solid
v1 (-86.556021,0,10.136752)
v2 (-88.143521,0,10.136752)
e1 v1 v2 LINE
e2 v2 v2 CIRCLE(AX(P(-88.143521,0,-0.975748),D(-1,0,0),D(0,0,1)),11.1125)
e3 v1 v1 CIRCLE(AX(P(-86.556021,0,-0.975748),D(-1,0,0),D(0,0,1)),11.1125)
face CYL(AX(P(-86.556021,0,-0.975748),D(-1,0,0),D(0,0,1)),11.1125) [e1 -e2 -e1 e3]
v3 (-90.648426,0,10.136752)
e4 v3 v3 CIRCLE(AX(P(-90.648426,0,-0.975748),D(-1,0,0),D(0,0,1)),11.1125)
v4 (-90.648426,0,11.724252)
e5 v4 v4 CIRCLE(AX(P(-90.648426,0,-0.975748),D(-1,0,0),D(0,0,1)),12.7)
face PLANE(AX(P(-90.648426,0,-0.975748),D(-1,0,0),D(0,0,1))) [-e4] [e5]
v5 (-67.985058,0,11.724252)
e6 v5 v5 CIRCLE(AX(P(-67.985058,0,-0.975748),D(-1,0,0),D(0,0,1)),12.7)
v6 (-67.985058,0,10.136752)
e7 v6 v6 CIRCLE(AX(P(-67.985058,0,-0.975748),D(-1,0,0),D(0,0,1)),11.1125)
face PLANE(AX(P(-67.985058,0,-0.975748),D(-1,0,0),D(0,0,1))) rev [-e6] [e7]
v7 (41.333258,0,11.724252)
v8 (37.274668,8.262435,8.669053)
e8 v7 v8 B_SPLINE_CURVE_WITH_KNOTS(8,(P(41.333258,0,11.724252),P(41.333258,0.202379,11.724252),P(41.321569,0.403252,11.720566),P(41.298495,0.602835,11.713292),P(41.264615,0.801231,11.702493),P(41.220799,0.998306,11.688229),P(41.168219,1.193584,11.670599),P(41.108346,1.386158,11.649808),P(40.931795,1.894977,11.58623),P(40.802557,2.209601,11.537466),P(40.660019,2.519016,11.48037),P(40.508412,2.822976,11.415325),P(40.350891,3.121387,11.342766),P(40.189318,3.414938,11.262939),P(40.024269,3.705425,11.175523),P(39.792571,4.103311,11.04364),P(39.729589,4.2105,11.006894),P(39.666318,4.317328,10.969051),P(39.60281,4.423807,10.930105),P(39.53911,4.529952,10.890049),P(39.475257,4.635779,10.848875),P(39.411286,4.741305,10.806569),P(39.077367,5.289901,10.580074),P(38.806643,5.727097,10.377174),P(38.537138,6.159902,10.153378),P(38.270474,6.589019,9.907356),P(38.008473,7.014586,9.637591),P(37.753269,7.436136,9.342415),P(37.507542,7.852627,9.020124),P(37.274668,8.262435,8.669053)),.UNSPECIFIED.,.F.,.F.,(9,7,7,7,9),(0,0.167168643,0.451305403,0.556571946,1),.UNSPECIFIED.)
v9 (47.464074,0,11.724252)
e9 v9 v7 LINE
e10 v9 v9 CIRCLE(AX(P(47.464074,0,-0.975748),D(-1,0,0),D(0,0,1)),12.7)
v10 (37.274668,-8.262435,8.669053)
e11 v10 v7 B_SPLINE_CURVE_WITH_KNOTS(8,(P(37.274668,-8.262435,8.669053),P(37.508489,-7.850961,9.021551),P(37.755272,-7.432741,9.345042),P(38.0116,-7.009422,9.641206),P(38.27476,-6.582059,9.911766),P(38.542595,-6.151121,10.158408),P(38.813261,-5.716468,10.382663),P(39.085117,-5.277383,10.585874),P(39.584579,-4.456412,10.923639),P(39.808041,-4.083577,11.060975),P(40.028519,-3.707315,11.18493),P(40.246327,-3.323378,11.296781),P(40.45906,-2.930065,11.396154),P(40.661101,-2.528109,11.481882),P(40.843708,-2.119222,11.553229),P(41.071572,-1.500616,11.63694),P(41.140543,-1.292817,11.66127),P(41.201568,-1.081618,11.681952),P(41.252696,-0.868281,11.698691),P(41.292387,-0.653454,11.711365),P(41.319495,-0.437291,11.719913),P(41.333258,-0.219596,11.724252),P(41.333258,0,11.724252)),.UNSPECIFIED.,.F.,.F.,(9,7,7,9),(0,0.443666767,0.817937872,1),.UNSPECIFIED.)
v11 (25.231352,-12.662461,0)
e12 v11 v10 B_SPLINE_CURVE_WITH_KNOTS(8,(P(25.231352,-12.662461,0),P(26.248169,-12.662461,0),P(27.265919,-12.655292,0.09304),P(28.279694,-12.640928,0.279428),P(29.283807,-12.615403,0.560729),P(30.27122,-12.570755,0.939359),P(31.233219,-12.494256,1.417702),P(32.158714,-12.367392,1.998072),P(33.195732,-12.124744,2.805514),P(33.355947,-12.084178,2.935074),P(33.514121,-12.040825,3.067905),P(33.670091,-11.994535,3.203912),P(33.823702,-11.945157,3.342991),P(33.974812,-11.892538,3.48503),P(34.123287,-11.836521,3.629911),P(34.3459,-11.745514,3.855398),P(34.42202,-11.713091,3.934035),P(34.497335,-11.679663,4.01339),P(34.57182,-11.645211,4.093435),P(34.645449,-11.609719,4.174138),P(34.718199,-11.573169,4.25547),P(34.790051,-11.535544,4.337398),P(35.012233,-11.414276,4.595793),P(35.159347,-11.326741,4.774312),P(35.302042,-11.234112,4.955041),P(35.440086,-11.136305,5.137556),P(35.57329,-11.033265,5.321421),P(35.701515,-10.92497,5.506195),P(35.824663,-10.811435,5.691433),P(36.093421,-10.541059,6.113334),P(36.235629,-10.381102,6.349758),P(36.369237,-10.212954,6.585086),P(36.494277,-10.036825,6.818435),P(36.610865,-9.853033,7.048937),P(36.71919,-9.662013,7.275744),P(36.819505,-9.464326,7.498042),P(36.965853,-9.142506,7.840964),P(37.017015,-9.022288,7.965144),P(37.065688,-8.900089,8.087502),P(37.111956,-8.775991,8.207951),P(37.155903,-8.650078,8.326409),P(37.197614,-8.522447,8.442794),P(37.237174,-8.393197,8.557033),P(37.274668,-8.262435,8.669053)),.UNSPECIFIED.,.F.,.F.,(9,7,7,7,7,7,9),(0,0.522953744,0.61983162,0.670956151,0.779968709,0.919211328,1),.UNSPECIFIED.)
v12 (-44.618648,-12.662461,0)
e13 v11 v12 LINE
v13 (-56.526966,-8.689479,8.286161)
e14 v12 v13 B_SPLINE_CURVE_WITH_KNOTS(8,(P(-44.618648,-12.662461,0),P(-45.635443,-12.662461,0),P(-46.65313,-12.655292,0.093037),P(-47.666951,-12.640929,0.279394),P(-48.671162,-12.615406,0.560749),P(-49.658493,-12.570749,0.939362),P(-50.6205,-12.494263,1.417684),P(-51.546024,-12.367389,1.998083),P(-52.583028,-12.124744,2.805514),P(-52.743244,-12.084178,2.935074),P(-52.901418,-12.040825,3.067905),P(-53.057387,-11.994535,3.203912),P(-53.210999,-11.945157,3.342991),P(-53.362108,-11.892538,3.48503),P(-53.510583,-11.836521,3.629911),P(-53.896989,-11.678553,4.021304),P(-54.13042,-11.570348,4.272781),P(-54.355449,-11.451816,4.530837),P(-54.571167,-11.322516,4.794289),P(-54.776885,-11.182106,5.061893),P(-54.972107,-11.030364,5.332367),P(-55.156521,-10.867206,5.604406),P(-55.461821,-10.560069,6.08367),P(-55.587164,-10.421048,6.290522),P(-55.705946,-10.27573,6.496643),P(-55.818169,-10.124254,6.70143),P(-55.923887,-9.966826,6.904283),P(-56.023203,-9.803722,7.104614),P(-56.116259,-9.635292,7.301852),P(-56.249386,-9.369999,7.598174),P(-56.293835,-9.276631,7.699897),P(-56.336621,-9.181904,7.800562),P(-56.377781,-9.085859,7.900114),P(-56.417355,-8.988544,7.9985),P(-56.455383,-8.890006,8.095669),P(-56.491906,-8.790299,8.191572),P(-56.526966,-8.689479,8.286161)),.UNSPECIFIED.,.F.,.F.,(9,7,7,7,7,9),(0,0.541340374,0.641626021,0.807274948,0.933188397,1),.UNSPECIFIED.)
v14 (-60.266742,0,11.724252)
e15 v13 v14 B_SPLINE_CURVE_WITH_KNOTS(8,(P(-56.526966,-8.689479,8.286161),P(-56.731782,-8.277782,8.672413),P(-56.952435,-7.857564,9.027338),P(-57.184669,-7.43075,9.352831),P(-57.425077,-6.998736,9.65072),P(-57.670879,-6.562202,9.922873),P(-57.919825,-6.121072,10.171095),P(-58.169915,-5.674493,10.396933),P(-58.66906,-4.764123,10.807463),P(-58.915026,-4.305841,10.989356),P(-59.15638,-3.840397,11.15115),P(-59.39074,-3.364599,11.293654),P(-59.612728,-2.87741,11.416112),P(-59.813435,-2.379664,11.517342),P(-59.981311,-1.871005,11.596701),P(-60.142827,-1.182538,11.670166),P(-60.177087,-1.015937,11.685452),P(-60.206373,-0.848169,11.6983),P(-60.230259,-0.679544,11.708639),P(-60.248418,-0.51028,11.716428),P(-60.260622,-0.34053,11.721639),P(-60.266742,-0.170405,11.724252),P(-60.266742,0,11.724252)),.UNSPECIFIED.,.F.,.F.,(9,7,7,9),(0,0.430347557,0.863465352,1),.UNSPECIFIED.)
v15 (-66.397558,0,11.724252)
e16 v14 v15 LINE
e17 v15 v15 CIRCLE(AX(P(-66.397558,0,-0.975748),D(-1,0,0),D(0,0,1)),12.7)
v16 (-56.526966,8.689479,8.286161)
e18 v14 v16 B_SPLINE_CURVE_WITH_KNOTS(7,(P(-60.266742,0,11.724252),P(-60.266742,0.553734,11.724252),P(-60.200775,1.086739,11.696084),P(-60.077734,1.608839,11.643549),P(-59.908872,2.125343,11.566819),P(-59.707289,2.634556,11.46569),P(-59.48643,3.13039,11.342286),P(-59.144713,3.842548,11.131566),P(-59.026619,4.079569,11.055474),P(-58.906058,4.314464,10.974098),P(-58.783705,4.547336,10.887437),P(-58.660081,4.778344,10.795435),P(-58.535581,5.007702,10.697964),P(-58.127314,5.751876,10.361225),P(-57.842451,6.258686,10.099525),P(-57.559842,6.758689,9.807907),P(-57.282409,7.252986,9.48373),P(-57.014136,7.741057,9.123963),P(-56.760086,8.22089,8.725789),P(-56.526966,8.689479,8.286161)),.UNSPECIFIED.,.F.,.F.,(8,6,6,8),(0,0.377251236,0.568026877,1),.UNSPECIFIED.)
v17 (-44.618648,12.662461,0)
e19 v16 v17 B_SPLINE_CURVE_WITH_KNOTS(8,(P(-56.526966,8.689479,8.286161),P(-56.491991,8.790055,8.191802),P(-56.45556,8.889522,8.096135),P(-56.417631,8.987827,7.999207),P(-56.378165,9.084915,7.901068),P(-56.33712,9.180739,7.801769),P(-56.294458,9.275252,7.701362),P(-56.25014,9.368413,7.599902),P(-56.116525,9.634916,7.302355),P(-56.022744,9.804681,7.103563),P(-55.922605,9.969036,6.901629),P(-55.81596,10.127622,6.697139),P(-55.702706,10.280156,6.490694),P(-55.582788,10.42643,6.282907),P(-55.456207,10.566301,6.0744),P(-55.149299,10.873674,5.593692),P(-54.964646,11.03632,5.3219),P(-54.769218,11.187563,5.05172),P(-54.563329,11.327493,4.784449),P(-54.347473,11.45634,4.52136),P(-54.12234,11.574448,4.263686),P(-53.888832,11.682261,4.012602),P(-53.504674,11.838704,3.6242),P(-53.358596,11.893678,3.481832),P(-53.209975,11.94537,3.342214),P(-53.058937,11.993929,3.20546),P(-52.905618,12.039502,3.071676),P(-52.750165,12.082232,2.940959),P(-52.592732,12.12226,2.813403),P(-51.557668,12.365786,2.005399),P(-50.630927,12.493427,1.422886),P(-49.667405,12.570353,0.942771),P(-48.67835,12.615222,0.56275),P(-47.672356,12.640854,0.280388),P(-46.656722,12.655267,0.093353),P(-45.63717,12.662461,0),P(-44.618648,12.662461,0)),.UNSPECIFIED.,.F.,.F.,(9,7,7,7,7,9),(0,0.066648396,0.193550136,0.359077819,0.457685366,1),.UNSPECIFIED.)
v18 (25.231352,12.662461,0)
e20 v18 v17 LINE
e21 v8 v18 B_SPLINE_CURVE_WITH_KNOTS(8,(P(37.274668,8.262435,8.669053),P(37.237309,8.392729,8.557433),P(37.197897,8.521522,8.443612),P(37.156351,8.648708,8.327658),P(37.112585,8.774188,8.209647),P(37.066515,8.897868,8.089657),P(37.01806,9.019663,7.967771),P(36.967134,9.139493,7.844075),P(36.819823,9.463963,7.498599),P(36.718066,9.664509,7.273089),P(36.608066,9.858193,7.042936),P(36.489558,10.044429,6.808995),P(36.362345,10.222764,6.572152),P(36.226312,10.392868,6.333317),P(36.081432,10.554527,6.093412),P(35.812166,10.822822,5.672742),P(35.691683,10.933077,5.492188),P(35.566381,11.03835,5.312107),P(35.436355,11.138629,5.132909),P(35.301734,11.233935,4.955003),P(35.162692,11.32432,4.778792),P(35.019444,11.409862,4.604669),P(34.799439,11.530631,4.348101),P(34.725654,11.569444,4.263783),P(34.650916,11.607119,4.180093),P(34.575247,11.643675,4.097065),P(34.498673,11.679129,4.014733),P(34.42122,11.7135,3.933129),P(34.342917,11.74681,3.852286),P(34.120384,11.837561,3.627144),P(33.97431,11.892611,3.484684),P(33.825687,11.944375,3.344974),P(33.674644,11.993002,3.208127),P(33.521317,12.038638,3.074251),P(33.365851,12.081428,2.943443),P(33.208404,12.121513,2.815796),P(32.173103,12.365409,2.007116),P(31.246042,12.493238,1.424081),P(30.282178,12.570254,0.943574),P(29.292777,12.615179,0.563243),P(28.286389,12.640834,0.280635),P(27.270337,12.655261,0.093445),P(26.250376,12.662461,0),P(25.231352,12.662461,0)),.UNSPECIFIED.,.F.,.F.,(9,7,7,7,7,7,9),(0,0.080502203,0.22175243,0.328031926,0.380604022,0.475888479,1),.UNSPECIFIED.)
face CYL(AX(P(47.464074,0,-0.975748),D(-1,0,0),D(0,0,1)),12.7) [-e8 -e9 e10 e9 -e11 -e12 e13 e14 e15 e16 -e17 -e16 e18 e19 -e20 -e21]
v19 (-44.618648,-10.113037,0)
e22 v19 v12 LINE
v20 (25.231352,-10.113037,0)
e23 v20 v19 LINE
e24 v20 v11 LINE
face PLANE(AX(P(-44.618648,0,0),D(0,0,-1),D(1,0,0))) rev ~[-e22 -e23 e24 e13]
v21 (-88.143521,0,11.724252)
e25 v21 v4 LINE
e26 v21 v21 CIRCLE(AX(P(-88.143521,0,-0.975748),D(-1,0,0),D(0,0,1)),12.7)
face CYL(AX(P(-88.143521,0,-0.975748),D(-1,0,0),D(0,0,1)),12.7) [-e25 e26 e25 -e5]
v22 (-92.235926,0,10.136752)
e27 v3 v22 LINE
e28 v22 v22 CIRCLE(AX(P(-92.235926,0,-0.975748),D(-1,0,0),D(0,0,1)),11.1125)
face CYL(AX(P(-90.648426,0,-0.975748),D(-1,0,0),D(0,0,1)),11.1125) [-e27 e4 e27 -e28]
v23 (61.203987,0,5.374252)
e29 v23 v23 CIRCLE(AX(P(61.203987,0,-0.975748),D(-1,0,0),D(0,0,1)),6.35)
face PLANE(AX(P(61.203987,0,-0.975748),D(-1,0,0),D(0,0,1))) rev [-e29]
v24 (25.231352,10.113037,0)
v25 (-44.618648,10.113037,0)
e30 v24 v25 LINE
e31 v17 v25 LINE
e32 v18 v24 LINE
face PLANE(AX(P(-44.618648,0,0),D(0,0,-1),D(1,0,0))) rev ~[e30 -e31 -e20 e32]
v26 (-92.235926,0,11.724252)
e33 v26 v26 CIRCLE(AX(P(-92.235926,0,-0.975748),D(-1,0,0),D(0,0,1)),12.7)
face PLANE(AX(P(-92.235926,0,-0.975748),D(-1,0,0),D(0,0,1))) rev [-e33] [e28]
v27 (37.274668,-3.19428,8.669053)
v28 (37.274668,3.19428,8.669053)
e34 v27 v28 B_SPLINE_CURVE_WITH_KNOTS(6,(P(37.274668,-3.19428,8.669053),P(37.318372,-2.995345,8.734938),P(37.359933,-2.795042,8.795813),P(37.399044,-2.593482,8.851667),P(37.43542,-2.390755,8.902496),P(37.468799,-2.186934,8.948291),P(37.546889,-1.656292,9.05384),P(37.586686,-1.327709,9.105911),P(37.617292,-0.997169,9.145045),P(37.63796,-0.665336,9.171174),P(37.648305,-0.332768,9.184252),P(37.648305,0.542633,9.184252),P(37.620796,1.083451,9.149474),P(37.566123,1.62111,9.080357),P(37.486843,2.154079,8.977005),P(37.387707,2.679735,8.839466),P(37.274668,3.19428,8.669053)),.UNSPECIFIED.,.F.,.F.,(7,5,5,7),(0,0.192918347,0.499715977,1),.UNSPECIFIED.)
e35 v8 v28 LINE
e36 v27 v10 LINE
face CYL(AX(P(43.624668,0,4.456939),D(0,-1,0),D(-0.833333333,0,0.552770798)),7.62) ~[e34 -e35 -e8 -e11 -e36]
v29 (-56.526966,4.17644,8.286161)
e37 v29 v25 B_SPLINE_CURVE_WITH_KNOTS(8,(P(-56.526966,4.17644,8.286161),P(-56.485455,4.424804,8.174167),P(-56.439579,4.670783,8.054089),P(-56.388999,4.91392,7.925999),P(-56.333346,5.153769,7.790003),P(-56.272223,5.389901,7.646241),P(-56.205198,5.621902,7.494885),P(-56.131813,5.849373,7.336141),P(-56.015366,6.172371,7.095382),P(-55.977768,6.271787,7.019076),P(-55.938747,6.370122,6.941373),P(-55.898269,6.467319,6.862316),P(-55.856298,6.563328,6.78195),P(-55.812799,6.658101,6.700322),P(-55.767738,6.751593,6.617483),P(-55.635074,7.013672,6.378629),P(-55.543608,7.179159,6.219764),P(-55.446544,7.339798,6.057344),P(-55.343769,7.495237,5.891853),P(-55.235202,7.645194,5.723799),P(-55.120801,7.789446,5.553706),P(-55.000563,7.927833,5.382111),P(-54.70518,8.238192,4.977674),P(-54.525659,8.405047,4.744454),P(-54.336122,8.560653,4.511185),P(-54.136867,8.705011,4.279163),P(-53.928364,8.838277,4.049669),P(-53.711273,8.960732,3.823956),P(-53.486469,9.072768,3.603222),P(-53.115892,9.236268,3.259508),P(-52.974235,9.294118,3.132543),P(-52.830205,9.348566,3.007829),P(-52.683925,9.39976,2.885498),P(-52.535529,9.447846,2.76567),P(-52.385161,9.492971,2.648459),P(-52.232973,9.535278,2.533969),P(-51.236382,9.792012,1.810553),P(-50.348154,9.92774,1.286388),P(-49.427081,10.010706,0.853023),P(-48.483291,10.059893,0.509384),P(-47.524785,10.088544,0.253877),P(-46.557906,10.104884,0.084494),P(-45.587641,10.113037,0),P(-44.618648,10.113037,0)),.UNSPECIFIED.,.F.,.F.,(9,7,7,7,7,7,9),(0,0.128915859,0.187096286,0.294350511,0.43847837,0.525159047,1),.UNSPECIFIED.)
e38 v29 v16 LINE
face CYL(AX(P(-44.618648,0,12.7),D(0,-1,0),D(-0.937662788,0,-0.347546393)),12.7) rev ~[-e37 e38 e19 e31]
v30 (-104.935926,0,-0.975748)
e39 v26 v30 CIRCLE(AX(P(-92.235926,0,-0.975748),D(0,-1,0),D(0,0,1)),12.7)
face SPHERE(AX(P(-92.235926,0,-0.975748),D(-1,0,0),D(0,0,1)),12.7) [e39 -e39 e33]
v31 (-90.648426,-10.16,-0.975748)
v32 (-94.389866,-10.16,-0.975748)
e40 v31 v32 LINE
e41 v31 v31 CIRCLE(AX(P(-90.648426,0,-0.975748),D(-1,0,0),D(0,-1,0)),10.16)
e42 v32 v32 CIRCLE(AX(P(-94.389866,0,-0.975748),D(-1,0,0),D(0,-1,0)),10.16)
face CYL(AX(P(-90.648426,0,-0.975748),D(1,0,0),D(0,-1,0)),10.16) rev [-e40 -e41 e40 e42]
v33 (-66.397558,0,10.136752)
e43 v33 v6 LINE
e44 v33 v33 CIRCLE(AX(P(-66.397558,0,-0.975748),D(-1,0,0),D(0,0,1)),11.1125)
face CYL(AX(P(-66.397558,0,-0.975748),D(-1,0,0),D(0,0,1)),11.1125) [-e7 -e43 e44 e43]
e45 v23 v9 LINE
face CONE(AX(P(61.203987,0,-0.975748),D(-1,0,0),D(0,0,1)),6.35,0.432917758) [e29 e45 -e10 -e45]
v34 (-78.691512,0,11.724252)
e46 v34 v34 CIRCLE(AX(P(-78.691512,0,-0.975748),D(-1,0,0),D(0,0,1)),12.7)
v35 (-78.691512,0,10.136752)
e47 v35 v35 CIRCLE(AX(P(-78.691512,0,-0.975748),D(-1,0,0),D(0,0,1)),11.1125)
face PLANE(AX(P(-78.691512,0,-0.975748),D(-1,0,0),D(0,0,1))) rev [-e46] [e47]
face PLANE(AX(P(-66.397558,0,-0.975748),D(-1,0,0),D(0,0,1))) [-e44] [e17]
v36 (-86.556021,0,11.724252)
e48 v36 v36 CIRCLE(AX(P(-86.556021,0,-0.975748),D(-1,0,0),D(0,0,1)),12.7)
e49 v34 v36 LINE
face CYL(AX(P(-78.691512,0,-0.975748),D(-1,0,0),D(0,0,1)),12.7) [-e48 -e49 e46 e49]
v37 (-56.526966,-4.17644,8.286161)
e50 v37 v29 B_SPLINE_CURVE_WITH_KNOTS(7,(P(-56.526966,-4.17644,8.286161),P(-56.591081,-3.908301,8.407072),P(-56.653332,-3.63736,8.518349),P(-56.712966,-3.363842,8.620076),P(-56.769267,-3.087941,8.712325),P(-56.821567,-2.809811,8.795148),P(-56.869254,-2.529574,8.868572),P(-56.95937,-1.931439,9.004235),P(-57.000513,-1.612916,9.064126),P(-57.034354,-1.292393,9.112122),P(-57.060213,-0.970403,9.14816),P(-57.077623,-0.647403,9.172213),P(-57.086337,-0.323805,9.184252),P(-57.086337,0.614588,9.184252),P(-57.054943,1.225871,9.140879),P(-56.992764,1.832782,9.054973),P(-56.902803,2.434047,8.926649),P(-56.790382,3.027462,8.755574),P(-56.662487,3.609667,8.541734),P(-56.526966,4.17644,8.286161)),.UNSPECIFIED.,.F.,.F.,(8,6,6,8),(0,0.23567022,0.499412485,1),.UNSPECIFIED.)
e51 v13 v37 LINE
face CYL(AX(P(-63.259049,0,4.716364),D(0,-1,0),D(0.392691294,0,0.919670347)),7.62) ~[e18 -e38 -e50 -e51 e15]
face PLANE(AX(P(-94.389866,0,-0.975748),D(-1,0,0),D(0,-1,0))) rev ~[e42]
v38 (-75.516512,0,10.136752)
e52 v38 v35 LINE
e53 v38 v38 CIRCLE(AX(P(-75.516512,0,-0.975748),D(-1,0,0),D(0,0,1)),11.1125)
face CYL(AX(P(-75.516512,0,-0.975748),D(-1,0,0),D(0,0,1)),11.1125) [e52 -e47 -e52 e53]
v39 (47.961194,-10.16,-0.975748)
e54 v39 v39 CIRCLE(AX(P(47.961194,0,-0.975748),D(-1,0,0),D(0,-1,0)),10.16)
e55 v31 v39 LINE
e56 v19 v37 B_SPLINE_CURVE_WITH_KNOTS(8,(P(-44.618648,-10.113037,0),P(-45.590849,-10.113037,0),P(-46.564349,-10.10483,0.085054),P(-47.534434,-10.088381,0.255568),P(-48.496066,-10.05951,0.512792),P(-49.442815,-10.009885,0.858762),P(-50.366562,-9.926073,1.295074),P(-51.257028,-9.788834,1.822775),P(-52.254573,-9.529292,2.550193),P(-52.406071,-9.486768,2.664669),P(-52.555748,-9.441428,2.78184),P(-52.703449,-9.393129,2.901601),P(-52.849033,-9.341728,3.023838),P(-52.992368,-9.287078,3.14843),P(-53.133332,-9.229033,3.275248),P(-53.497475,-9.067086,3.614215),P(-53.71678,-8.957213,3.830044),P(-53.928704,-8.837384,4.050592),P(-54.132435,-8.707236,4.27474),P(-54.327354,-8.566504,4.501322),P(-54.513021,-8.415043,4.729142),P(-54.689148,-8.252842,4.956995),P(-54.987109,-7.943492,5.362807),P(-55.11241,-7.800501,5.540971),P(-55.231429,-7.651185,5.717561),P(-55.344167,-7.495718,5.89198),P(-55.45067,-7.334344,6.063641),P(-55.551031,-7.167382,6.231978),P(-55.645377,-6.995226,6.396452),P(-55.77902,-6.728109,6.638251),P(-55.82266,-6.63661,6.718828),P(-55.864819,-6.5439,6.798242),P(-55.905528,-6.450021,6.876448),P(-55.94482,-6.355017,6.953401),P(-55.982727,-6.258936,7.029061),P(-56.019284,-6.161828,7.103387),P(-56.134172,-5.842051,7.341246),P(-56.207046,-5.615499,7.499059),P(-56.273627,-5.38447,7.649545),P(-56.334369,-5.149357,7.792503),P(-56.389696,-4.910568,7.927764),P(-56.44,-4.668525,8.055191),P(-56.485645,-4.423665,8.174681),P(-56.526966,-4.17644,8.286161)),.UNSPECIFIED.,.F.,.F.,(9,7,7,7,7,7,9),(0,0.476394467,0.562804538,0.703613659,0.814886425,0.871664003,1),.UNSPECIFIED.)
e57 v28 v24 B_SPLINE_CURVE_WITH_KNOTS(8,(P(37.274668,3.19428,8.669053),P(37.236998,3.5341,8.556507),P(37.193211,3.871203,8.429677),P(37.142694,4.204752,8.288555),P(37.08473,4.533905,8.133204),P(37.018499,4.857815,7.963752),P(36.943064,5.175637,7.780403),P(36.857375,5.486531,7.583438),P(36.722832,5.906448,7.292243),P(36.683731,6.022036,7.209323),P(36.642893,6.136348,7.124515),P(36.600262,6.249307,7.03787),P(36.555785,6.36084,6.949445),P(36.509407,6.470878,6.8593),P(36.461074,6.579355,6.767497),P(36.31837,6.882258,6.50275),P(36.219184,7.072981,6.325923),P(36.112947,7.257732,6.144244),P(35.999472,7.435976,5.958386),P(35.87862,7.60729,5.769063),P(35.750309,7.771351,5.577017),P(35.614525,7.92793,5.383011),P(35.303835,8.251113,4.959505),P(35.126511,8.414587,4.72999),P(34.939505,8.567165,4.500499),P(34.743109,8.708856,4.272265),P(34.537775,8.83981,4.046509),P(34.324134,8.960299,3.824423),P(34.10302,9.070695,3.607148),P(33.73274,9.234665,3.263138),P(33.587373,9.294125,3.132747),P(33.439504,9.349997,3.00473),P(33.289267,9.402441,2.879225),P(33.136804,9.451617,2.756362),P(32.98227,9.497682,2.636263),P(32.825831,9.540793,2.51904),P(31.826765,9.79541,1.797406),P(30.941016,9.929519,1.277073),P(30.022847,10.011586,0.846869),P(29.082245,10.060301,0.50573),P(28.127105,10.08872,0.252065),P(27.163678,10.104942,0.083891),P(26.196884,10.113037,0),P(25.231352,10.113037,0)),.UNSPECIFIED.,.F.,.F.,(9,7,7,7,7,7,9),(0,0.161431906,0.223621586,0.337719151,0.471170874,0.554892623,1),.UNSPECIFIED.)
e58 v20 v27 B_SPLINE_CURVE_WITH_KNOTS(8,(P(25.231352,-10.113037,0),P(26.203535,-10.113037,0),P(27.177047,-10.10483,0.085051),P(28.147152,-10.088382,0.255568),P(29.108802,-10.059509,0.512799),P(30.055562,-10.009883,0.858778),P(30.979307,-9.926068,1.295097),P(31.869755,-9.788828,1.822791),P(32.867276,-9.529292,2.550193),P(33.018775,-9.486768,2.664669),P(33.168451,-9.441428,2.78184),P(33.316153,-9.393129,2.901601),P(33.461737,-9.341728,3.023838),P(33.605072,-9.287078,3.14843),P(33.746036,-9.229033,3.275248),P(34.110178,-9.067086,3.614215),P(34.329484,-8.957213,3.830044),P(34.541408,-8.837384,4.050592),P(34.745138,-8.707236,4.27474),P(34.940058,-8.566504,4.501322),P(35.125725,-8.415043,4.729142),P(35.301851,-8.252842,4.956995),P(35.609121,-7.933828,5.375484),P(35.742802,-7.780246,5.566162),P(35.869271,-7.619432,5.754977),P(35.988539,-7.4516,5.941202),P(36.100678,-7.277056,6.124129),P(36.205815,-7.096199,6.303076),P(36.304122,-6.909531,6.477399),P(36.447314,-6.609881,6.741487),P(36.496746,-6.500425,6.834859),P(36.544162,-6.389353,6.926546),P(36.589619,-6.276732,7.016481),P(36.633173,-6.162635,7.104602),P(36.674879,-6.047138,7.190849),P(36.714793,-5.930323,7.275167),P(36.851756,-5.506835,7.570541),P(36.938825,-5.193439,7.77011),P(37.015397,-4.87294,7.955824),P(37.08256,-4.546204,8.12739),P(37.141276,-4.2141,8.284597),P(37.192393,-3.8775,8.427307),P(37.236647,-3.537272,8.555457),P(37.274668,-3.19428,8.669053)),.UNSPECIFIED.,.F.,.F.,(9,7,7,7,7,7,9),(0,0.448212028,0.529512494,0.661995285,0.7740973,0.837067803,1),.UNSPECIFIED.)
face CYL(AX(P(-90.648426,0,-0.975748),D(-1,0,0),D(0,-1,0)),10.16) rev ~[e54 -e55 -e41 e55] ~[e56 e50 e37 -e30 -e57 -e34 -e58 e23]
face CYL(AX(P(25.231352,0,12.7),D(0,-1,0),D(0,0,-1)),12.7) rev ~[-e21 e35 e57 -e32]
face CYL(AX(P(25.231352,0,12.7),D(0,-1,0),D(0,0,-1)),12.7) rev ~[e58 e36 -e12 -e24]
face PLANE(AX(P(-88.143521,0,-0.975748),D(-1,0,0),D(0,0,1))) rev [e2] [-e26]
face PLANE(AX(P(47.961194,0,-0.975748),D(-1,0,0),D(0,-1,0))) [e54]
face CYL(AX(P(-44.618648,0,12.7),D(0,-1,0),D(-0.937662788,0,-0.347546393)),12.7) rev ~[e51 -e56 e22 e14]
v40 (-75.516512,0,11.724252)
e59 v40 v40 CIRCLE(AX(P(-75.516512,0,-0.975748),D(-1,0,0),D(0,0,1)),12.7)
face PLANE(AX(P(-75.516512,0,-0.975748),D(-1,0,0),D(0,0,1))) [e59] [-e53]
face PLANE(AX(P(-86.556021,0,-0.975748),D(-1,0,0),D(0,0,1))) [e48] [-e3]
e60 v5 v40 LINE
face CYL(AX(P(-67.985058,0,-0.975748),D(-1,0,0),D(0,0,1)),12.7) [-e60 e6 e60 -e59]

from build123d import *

# Parameters (mm, degrees)
F3_DEPTH      = 12.7
F4_R          = 10.16
F5_DEPTH      = 138.60962
F5_DEPTH_BACK = 3.74144


with BuildPart() as f1:
    # F0 (on Front) → F1 (revolve)
    with BuildSketch(Plane.XZ):
        with BuildLine():
            Line((-78.6915116169, 11.7242524082), (-86.5560208407, 11.7242524082))
            Line((-86.5560208407, 11.7242524082), (-86.5560208407, 10.1367524082))
            Line((-86.5560208407, 10.1367524082), (-88.1435208407, 10.1367524082))
            Line((-88.1435208407, 10.1367524082), (-88.1435208407, 11.7242524082))
            Line((-88.1435208407, 11.7242524082), (-90.648425594, 11.7242524082))
            Line((-90.648425594, 11.7242524082), (-90.648425594, 10.1367524082))
            Line((-90.648425594, 10.1367524082), (-92.235925594, 10.1367524082))
            Line((-92.235925594, 10.1367524082), (-92.235925594, 11.7242524082))
            ThreePointArc((-92.235925594, 11.7242524082), (-101.2161817151, 8.0045085293), (-104.935925594, -0.9757475918))
            Line((-104.935925594, -0.9757475918), (47.464074406, -0.9757475918))
            Line((47.464074406, -0.9757475918), (61.2039872572, -0.9757475918))
            Line((61.2039872572, -0.9757475918), (61.2039872572, 5.3742524082))
            Line((61.2039872572, 5.3742524082), (47.464074406, 11.7242524082))
            Line((47.464074406, 11.7242524082), (-66.3975579772, 11.7242524082))
            Line((-66.3975579772, 11.7242524082), (-66.3975579772, 10.1367524082))
            Line((-66.3975579772, 10.1367524082), (-67.9850579772, 10.1367524082))
            Line((-67.9850579772, 10.1367524082), (-67.9850579772, 11.7242524082))
            Line((-67.9850579772, 11.7242524082), (-75.5165116169, 11.7242524082))
            Line((-75.5165116169, 11.7242524082), (-75.5165116169, 10.1367524082))
            Line((-75.5165116169, 10.1367524082), (-78.6915116169, 10.1367524082))
            Line((-78.6915116169, 10.1367524082), (-78.6915116169, 11.7242524082))
        make_face()
    revolve(axis=Axis((-28.735925594, 0, -0.9757475918), (-1, 0, 0)))

    # F2 (on Front) → F3 (cut, symmetric)
    with BuildSketch(Plane.XZ):
        with BuildLine():
            ThreePointArc((-56.52696557, 8.2861608072), (-51.8724141542, 2.2753715234), (-44.6186481582, 0))
            Line((-44.6186481582, 0), (25.2313518418, 0))
            ThreePointArc((25.2313518418, 0), (32.6508184362, 2.392647505), (37.2746679855, 8.6690526842))
            ThreePointArc((37.2746679855, 8.6690526842), (39.0418683994, 10.5448245437), (41.3332582144, 11.7242524082))
            Line((41.3332582144, 11.7242524082), (-60.2667417856, 11.7242524082))
            ThreePointArc((-60.2667417856, 11.7242524082), (-58.1019120471, 10.3260286868), (-56.52696557, 8.2861608072))
        make_face()
    extrude(amount=F3_DEPTH, both=True, mode=Mode.SUBTRACT)

    # F4 (on face) → F5 (cut, two sides)
    with BuildSketch(Plane(origin=(-90.648425594, 0, 0), x_dir=(0, -1, 0), z_dir=(-1, 0, 0))) as f5_sk:
        with Locations((0, -0.9757475918)):
            Circle(F4_R)
    extrude(amount=-F5_DEPTH, mode=Mode.SUBTRACT)
    extrude(f5_sk.sketch, amount=F5_DEPTH_BACK, mode=Mode.SUBTRACT)


solid = f1.part
